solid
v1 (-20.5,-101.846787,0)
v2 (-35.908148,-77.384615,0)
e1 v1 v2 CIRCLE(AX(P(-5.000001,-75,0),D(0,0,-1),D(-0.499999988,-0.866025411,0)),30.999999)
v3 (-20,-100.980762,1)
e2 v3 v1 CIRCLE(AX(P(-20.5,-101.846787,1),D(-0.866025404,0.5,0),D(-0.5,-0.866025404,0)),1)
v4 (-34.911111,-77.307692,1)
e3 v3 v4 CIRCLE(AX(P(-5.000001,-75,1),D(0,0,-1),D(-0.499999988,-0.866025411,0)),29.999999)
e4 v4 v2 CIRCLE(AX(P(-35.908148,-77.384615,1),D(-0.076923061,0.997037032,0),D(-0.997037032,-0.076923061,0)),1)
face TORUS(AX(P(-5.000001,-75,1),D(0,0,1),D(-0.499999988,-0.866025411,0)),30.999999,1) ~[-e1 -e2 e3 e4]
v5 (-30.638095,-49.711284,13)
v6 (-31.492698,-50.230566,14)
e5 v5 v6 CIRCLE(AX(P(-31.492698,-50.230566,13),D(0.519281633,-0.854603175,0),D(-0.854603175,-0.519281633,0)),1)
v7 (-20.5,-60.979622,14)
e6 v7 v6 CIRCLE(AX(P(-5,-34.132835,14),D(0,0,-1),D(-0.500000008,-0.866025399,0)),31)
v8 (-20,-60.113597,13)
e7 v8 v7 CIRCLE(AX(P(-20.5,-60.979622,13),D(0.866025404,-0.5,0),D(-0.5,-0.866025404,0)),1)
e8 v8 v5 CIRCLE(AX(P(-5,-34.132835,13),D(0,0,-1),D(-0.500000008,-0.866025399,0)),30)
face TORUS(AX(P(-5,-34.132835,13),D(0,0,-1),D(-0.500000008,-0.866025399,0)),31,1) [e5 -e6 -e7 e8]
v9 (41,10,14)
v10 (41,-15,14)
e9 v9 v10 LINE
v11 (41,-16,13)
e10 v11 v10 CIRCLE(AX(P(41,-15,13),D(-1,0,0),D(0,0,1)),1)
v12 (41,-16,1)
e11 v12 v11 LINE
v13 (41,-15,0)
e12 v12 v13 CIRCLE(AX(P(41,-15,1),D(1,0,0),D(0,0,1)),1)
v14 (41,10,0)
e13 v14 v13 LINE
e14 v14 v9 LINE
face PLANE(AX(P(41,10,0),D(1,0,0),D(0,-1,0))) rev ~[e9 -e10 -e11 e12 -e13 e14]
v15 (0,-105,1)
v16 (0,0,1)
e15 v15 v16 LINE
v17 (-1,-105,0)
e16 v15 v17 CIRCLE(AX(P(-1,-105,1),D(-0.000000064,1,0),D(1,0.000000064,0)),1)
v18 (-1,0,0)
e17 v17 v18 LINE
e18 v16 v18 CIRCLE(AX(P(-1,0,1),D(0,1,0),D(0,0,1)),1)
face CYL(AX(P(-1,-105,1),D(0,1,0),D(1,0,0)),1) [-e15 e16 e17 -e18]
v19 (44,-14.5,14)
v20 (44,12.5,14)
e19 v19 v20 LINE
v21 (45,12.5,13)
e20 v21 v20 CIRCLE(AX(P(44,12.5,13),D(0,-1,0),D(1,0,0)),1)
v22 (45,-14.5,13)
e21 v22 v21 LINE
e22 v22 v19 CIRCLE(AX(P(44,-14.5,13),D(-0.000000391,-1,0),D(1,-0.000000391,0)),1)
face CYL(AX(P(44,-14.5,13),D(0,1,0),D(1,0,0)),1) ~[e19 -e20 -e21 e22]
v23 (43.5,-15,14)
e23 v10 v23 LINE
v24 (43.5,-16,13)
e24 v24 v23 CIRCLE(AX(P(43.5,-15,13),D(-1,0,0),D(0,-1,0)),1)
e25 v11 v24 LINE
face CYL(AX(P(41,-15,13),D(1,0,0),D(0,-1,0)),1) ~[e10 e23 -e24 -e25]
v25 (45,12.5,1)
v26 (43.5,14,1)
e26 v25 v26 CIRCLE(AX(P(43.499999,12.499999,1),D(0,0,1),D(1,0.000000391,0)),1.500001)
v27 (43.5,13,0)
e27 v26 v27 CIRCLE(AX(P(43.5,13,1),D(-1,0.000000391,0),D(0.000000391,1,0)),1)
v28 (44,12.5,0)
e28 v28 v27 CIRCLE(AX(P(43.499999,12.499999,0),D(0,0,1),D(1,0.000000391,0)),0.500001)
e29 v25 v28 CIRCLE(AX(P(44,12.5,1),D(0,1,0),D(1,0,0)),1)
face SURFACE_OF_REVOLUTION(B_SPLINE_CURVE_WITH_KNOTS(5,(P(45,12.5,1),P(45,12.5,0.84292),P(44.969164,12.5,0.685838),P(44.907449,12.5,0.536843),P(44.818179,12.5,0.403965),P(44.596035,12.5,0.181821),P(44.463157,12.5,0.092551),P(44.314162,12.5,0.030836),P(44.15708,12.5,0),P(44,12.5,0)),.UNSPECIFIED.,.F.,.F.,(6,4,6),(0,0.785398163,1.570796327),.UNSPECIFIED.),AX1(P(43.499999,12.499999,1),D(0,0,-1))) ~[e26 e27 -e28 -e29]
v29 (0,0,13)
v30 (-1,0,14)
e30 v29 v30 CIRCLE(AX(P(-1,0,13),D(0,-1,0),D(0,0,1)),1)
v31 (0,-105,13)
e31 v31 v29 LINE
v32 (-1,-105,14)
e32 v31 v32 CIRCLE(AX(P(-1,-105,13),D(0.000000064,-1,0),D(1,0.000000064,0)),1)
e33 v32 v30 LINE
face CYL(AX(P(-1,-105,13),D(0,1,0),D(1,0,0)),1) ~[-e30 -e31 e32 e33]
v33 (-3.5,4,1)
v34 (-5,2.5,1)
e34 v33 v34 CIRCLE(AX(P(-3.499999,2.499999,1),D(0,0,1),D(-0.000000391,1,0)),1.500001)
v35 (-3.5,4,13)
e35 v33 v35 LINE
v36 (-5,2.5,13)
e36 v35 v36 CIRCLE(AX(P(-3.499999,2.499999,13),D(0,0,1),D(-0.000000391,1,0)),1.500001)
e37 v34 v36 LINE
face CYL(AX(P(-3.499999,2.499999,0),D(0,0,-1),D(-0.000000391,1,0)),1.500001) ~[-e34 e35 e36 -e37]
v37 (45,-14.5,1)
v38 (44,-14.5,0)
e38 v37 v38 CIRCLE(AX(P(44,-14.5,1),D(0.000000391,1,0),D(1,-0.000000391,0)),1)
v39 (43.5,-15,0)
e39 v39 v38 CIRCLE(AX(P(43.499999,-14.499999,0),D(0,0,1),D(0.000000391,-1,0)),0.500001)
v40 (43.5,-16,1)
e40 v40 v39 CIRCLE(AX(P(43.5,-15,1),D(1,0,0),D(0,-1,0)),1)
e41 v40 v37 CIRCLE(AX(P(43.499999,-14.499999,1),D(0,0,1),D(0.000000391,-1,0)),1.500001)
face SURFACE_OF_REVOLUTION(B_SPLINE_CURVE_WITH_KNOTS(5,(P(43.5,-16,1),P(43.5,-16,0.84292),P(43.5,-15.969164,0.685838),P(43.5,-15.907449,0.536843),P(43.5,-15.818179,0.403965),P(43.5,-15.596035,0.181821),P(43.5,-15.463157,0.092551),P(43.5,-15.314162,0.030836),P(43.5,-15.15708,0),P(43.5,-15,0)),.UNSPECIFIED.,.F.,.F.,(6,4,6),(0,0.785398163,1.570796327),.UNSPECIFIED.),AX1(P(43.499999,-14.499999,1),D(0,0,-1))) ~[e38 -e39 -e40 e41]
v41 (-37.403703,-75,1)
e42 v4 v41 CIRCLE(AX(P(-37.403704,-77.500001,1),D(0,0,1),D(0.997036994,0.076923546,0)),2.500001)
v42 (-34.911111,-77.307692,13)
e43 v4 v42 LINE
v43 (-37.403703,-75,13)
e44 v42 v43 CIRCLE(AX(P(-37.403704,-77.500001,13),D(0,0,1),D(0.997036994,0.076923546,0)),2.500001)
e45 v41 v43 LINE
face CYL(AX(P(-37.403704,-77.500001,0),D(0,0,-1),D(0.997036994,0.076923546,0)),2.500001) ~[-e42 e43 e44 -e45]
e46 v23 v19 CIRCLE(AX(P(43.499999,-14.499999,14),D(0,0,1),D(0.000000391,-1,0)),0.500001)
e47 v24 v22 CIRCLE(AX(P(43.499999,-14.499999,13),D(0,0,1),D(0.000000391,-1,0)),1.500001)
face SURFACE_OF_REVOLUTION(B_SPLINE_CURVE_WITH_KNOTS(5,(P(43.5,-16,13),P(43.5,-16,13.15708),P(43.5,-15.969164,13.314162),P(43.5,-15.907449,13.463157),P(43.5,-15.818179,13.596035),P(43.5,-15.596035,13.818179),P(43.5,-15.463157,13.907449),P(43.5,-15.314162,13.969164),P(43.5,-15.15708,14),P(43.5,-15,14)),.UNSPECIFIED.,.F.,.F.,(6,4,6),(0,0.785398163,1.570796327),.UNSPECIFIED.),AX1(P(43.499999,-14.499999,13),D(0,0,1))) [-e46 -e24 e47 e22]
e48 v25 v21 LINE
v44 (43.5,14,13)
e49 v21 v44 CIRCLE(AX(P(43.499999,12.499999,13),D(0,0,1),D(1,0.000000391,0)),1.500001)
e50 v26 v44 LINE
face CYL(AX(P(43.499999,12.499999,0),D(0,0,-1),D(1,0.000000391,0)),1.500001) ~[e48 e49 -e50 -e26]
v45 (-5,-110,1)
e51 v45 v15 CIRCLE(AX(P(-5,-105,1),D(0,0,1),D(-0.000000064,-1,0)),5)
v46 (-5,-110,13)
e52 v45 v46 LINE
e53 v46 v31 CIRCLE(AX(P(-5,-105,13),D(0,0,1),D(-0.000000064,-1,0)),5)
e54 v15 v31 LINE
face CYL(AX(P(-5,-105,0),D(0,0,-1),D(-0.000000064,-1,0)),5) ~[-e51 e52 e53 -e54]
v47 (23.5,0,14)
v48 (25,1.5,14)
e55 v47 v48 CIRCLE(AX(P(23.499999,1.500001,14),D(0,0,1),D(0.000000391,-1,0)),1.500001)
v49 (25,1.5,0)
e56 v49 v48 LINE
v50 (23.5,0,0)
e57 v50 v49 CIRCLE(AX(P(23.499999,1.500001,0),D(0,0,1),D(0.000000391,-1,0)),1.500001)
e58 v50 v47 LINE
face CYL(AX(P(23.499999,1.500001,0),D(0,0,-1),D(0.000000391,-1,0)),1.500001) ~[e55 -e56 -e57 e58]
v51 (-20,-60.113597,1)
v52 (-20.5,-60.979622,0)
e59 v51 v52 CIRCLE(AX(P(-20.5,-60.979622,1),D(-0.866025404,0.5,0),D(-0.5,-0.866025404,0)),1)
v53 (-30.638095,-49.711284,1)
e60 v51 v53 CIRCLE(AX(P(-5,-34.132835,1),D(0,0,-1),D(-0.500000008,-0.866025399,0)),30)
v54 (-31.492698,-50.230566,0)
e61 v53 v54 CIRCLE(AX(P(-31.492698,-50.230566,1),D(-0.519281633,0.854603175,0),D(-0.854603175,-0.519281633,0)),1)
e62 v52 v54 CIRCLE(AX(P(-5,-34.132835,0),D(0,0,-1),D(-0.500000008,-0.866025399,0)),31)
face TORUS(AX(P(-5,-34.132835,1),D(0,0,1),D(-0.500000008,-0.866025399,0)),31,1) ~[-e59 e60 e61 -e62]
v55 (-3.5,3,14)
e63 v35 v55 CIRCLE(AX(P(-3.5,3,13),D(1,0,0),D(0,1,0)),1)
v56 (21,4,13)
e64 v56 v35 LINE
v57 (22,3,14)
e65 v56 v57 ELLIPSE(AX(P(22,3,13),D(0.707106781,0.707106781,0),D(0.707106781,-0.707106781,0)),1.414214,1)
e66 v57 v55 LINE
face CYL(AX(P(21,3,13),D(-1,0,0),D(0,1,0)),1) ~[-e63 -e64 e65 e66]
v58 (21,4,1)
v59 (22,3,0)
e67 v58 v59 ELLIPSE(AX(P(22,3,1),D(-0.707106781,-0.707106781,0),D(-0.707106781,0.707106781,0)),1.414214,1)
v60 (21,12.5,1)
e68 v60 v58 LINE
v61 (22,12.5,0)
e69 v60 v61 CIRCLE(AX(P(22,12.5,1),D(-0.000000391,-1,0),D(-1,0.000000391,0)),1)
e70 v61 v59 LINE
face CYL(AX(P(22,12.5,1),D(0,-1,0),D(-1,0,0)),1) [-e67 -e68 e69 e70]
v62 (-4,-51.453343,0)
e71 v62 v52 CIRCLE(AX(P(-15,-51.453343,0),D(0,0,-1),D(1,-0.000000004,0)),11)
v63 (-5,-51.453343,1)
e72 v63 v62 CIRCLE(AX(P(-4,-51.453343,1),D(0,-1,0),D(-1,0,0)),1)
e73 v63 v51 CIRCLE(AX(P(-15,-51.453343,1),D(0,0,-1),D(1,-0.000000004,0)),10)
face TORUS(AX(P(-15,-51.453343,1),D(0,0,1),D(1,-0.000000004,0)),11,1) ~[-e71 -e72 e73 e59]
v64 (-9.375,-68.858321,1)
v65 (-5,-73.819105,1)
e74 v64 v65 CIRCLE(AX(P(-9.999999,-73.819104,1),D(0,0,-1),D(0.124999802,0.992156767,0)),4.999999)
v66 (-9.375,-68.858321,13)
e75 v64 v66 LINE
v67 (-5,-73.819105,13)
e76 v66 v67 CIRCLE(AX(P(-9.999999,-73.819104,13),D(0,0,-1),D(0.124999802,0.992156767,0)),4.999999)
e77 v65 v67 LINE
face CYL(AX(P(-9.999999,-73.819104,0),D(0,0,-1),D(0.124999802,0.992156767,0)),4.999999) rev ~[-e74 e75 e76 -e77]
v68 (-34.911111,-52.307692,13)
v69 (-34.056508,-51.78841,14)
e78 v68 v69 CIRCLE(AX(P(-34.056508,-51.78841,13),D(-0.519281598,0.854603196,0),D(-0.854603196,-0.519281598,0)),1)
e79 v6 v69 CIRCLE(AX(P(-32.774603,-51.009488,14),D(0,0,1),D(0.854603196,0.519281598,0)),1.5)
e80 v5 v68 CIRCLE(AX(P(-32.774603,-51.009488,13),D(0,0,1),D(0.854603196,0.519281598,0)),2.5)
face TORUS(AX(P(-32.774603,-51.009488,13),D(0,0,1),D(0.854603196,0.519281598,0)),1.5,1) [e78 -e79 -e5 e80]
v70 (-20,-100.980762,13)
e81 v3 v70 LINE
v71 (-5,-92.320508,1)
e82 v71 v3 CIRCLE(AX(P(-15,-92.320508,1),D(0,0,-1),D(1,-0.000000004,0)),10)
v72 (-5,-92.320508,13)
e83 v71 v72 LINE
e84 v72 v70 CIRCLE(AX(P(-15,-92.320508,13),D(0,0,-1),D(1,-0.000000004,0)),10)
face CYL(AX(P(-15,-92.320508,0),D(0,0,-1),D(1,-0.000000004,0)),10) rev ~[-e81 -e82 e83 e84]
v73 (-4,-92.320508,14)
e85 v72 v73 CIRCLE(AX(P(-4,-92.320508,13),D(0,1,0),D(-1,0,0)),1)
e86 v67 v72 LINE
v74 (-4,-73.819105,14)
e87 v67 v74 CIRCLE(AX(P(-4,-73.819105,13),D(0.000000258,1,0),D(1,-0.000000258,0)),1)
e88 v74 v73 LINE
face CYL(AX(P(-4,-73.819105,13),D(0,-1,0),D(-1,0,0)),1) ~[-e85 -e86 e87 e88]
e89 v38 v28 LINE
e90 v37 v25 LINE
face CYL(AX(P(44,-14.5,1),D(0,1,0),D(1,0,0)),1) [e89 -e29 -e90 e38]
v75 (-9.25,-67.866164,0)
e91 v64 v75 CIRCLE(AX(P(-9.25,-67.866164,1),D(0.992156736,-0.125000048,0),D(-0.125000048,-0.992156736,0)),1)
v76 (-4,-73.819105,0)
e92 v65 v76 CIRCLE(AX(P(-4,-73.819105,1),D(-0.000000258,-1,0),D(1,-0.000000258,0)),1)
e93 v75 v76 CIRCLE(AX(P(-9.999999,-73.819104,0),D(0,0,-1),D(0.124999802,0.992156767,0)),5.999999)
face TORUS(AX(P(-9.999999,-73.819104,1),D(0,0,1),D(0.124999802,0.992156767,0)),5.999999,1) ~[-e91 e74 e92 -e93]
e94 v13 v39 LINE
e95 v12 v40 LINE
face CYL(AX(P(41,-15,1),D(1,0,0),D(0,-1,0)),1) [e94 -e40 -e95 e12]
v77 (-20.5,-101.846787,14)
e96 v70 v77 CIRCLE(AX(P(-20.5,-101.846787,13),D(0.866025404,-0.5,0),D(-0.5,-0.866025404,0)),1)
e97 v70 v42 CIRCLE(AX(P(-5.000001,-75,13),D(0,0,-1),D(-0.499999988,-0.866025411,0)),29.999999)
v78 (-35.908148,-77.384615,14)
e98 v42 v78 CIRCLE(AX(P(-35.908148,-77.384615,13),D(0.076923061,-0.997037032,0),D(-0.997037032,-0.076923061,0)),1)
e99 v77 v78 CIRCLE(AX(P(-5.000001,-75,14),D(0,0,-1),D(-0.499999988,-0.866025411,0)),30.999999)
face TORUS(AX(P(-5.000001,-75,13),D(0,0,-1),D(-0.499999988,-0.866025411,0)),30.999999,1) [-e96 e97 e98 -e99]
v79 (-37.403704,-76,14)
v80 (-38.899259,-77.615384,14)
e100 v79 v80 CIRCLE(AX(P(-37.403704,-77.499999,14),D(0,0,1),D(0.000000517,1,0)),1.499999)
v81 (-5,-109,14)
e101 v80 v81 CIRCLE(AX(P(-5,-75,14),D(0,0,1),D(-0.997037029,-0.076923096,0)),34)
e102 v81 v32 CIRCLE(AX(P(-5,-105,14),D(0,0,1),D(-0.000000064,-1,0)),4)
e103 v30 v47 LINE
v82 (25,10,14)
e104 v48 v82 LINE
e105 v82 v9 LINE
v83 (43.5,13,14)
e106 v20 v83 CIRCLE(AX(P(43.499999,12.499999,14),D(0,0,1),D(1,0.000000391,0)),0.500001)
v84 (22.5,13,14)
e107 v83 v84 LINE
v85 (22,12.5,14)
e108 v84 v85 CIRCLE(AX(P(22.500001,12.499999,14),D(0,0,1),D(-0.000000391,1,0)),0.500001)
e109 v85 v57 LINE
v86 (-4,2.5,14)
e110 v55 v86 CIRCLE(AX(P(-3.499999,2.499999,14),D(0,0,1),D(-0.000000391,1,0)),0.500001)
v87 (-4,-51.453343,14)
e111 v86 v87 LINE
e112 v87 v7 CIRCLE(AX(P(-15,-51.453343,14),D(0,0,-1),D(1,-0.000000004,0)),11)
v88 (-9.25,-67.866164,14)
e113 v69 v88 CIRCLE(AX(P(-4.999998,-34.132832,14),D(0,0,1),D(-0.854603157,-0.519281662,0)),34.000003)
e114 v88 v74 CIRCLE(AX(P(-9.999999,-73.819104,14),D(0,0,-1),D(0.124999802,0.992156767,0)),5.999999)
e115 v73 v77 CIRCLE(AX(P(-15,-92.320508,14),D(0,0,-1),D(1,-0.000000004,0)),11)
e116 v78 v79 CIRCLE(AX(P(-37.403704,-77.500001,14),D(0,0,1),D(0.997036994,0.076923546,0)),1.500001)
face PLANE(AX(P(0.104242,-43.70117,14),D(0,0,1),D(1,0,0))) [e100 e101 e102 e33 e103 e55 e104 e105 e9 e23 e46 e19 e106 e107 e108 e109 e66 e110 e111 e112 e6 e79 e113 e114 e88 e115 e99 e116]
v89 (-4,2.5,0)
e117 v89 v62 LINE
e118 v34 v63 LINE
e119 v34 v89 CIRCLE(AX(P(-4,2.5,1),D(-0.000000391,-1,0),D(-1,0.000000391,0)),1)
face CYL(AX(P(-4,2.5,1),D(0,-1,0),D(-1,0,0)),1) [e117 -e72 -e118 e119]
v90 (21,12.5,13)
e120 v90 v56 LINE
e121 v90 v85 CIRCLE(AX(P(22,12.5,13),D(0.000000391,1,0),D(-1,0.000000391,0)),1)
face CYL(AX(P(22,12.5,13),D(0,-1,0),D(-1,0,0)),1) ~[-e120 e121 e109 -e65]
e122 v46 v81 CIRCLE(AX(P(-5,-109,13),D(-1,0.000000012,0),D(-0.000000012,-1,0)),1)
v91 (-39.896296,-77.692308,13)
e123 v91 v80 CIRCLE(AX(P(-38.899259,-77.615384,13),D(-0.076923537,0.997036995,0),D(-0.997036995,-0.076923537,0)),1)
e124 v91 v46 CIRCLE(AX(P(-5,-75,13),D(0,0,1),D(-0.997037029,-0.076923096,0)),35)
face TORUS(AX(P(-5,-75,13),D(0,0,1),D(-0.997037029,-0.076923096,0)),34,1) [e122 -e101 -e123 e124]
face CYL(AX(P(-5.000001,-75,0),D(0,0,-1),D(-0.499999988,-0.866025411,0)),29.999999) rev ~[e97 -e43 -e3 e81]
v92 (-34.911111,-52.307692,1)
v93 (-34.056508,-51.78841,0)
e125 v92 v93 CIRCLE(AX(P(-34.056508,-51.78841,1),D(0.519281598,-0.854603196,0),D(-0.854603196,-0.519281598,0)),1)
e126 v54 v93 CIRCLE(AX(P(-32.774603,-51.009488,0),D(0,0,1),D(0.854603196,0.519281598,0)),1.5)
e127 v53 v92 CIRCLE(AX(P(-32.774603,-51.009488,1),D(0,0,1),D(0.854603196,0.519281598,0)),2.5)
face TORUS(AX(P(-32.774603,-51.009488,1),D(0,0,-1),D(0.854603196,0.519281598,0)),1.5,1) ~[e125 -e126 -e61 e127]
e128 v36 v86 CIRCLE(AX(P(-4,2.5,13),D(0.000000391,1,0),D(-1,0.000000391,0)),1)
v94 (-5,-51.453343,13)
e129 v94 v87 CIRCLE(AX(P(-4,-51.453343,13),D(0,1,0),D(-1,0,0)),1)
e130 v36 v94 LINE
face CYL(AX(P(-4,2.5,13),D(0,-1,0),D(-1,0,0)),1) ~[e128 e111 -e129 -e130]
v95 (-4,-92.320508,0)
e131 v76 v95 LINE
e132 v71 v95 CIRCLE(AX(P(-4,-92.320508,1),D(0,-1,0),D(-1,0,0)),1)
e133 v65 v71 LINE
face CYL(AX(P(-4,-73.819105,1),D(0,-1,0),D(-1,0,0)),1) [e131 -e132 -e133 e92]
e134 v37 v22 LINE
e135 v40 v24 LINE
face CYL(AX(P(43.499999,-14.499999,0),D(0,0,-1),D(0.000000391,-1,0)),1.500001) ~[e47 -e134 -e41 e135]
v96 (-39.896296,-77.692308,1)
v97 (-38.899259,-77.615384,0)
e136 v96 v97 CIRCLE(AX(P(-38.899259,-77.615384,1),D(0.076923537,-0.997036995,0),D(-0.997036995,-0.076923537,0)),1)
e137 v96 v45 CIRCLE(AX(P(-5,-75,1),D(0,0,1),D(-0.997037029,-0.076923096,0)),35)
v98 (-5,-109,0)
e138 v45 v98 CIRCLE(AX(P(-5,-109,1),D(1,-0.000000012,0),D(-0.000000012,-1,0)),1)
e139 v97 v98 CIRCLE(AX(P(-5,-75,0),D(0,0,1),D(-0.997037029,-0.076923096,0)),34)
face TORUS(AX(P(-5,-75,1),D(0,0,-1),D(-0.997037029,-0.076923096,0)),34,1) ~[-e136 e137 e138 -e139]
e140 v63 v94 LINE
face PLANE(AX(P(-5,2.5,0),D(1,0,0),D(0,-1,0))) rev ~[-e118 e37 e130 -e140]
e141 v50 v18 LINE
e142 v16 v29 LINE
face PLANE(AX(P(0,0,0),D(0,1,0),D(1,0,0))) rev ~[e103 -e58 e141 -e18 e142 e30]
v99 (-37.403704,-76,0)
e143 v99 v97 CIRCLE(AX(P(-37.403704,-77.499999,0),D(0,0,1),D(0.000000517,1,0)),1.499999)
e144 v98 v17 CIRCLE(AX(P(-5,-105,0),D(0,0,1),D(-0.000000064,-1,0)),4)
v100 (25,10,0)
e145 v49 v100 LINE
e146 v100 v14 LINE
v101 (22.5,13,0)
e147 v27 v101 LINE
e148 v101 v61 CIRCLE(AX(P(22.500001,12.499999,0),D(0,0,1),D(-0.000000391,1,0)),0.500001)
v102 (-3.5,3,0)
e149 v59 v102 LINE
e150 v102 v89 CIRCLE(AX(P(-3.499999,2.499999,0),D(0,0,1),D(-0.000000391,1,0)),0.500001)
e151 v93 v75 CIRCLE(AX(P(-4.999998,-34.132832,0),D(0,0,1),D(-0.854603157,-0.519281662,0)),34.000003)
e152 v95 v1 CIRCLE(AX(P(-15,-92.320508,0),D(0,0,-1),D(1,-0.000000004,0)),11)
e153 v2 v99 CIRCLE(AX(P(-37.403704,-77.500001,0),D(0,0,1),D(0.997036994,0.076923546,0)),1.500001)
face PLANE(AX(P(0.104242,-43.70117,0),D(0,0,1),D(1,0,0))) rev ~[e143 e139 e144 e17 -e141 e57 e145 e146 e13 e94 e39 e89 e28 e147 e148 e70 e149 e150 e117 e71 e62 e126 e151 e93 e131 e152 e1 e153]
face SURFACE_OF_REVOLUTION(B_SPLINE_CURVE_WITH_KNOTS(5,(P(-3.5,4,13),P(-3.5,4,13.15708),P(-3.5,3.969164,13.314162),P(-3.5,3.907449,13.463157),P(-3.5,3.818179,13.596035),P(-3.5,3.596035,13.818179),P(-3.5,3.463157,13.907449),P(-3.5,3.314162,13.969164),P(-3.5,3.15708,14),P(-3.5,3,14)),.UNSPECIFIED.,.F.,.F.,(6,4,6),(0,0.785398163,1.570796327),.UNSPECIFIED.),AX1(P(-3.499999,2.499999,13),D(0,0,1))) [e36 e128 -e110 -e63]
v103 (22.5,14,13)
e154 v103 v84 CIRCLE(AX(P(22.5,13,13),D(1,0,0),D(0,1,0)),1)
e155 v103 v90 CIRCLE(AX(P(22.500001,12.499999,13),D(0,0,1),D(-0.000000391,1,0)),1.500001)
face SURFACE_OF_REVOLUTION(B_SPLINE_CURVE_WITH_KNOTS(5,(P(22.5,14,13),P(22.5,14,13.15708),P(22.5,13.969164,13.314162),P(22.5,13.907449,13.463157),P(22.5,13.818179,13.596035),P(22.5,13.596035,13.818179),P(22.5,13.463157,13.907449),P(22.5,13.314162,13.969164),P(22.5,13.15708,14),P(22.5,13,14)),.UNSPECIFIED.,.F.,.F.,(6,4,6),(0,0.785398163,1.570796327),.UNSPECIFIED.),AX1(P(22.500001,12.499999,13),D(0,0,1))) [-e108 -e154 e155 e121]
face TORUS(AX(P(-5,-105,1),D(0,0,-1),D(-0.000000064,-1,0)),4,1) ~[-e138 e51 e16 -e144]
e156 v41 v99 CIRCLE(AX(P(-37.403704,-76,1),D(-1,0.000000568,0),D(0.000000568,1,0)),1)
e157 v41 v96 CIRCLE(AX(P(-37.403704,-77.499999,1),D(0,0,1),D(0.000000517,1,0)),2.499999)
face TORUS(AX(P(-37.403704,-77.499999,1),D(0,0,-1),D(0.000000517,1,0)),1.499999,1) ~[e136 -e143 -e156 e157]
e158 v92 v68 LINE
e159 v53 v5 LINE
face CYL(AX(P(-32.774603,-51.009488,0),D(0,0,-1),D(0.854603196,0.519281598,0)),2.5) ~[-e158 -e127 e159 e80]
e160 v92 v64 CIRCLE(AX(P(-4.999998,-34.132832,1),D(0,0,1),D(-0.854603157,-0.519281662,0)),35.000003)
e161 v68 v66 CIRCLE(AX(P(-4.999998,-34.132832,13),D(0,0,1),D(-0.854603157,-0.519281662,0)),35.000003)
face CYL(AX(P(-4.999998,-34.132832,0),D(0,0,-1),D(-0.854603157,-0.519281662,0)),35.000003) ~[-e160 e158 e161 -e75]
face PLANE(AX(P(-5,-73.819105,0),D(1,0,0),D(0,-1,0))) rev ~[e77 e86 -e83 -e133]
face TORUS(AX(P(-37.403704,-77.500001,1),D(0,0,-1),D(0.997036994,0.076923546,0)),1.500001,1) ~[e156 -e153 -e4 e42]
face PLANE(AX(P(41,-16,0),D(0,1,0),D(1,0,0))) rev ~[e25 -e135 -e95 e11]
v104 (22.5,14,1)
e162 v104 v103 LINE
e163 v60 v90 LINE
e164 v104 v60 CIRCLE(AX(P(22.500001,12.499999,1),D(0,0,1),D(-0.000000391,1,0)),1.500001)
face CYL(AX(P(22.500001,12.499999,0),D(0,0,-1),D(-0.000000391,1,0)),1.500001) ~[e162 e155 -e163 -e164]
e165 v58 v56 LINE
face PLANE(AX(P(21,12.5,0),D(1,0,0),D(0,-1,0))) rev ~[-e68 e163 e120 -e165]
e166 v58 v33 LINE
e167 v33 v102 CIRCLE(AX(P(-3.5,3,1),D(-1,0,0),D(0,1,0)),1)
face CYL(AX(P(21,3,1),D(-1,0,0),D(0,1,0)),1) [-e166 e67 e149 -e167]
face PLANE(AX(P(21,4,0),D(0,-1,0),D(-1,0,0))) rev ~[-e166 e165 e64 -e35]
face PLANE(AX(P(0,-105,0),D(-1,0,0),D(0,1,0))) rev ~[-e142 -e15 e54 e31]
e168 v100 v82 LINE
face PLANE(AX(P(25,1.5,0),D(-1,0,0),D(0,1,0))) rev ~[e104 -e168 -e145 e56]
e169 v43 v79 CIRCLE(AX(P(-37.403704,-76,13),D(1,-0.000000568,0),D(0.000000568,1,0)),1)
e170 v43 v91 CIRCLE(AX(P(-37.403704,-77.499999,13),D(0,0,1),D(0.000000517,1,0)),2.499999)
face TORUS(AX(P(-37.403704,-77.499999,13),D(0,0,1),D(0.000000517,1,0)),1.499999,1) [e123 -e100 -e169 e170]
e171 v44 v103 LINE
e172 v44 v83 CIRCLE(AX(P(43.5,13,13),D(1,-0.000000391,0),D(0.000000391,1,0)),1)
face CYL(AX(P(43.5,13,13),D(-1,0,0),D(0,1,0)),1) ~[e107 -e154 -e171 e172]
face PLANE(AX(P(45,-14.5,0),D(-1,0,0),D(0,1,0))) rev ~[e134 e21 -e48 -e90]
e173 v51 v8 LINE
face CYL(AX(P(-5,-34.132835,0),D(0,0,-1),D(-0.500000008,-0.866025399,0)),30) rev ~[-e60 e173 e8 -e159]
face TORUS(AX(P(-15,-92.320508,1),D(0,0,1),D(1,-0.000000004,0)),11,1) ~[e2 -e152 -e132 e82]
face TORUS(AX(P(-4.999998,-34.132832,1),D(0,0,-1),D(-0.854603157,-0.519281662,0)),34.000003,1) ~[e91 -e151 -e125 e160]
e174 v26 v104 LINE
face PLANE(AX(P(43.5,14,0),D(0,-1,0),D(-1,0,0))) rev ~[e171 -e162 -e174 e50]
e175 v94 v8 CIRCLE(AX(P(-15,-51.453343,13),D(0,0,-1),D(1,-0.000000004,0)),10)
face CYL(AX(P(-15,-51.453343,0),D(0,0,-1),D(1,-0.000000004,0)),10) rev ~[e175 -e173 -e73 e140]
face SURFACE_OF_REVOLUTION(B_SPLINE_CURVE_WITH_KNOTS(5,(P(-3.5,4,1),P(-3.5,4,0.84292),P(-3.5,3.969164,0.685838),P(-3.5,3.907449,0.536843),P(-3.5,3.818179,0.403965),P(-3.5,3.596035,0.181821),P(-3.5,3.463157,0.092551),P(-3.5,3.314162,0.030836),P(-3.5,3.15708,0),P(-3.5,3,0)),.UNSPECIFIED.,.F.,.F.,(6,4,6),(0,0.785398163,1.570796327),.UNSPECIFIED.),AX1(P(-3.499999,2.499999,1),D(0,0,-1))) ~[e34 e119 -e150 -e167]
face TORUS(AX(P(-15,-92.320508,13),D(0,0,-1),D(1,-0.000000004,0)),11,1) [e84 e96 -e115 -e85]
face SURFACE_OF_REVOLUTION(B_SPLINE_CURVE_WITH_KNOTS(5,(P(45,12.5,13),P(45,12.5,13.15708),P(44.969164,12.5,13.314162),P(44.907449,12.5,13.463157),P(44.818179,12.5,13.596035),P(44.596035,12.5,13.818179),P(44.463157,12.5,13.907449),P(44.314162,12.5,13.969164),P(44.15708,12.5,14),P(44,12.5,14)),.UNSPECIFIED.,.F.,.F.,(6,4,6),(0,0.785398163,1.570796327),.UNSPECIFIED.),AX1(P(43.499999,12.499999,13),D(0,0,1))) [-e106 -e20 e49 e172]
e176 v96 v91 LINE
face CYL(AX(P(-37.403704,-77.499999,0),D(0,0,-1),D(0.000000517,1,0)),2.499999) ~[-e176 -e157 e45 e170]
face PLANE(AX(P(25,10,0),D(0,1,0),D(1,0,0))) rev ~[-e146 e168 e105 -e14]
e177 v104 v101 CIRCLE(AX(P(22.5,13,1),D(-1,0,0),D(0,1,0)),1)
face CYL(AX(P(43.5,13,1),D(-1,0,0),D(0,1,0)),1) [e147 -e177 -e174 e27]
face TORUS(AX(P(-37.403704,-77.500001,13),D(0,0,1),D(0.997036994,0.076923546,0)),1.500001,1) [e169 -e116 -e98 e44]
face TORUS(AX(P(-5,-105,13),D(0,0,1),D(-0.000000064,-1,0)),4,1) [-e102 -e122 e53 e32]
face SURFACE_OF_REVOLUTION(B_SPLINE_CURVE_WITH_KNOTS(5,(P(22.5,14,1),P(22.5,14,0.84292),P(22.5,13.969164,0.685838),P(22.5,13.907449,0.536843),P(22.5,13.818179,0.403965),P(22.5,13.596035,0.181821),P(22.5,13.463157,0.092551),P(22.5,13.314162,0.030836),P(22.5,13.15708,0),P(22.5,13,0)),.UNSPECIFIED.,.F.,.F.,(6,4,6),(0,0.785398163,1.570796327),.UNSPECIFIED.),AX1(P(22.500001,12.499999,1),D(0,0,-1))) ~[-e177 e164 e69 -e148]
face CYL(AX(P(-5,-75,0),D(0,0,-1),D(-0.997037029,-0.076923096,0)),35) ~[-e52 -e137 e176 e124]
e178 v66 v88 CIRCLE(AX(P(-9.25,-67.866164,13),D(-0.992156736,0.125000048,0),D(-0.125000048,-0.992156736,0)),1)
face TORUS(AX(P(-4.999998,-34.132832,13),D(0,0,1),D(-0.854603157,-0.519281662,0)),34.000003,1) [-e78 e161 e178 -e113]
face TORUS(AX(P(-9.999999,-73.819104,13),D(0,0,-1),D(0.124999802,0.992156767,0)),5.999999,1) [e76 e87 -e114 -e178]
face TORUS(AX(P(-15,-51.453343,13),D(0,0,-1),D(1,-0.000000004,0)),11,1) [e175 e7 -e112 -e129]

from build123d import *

# Parameters (mm, degrees)
F1_DEPTH = 14
F2_R     = 1


with BuildPart() as f1:
    # F0 (on Top) → F1 (new body)
    with BuildSketch(Plane.XY):
        with BuildLine():
            ThreePointArc((43.5, -16), (44.56066, -15.56066), (45, -14.5))
            Line((45, -14.5), (45, 12.5))
            ThreePointArc((45, 12.5), (44.56066, 13.56066), (43.5, 14))
            Line((43.5, 14), (22.5, 14))
            ThreePointArc((22.5, 14), (21.43934, 13.56066), (21, 12.5))
            Line((21, 12.5), (21, 4))
            Line((21, 4), (-3.5, 4))
            ThreePointArc((-3.5, 4), (-4.56066, 3.56066), (-5, 2.5))
            Line((-5, 2.5), (-5, -51.453343))
            ThreePointArc((-5, -51.453343), (-10, -60.113597), (-20, -60.113597))
            ThreePointArc((-20, -60.113597), (-25.974168, -55.58241), (-30.638095, -49.711284))
            ThreePointArc((-30.638095, -49.711284), (-34.072807, -48.87298), (-34.911111, -52.307692))
            ThreePointArc((-34.911111, -52.307692), (-24.035892, -63.50348), (-9.375, -68.858321))
            ThreePointArc((-9.375, -68.858321), (-6.25, -70.511915), (-5, -73.819105))
            Line((-5, -73.819105), (-5, -92.320508))
            ThreePointArc((-5, -92.320508), (-10, -100.980762), (-20, -100.980762))
            ThreePointArc((-20, -100.980762), (-30.384159, -90.988886), (-34.911111, -77.307692))
            ThreePointArc((-34.911111, -77.307692), (-35.705288, -75.665502), (-37.403703, -75))
            ThreePointArc((-37.403703, -75), (-39.238202, -75.801584), (-39.896296, -77.692308))
            ThreePointArc((-39.896296, -77.692308), (-28.777818, -100.682978), (-5, -110))
            ThreePointArc((-5, -110), (-1.464466, -108.535534), (0, -105))
            Line((0, -105), (0, 0))
            Line((0, 0), (23.5, 0))
            ThreePointArc((23.5, 0), (24.56066, 0.43934), (25, 1.5))
            Line((25, 1.5), (25, 10))
            Line((25, 10), (41, 10))
            Line((41, 10), (41, -16))
            Line((41, -16), (43.5, -16))
        make_face()
    extrude(amount=F1_DEPTH)

    # F2
    f2_edges = [f1.edges().sort_by_distance(p)[0] for p in [
        (45, -1, 14),
        (44.56066, 13.56066, 14),
        (33, 14, 14),
        (8.75, 4, 14),
        (-5, -24.476671, 0),
        (21, 8.25, 0),
    ]]
    fillet(f2_edges, radius=F2_R)


solid = f1.part
